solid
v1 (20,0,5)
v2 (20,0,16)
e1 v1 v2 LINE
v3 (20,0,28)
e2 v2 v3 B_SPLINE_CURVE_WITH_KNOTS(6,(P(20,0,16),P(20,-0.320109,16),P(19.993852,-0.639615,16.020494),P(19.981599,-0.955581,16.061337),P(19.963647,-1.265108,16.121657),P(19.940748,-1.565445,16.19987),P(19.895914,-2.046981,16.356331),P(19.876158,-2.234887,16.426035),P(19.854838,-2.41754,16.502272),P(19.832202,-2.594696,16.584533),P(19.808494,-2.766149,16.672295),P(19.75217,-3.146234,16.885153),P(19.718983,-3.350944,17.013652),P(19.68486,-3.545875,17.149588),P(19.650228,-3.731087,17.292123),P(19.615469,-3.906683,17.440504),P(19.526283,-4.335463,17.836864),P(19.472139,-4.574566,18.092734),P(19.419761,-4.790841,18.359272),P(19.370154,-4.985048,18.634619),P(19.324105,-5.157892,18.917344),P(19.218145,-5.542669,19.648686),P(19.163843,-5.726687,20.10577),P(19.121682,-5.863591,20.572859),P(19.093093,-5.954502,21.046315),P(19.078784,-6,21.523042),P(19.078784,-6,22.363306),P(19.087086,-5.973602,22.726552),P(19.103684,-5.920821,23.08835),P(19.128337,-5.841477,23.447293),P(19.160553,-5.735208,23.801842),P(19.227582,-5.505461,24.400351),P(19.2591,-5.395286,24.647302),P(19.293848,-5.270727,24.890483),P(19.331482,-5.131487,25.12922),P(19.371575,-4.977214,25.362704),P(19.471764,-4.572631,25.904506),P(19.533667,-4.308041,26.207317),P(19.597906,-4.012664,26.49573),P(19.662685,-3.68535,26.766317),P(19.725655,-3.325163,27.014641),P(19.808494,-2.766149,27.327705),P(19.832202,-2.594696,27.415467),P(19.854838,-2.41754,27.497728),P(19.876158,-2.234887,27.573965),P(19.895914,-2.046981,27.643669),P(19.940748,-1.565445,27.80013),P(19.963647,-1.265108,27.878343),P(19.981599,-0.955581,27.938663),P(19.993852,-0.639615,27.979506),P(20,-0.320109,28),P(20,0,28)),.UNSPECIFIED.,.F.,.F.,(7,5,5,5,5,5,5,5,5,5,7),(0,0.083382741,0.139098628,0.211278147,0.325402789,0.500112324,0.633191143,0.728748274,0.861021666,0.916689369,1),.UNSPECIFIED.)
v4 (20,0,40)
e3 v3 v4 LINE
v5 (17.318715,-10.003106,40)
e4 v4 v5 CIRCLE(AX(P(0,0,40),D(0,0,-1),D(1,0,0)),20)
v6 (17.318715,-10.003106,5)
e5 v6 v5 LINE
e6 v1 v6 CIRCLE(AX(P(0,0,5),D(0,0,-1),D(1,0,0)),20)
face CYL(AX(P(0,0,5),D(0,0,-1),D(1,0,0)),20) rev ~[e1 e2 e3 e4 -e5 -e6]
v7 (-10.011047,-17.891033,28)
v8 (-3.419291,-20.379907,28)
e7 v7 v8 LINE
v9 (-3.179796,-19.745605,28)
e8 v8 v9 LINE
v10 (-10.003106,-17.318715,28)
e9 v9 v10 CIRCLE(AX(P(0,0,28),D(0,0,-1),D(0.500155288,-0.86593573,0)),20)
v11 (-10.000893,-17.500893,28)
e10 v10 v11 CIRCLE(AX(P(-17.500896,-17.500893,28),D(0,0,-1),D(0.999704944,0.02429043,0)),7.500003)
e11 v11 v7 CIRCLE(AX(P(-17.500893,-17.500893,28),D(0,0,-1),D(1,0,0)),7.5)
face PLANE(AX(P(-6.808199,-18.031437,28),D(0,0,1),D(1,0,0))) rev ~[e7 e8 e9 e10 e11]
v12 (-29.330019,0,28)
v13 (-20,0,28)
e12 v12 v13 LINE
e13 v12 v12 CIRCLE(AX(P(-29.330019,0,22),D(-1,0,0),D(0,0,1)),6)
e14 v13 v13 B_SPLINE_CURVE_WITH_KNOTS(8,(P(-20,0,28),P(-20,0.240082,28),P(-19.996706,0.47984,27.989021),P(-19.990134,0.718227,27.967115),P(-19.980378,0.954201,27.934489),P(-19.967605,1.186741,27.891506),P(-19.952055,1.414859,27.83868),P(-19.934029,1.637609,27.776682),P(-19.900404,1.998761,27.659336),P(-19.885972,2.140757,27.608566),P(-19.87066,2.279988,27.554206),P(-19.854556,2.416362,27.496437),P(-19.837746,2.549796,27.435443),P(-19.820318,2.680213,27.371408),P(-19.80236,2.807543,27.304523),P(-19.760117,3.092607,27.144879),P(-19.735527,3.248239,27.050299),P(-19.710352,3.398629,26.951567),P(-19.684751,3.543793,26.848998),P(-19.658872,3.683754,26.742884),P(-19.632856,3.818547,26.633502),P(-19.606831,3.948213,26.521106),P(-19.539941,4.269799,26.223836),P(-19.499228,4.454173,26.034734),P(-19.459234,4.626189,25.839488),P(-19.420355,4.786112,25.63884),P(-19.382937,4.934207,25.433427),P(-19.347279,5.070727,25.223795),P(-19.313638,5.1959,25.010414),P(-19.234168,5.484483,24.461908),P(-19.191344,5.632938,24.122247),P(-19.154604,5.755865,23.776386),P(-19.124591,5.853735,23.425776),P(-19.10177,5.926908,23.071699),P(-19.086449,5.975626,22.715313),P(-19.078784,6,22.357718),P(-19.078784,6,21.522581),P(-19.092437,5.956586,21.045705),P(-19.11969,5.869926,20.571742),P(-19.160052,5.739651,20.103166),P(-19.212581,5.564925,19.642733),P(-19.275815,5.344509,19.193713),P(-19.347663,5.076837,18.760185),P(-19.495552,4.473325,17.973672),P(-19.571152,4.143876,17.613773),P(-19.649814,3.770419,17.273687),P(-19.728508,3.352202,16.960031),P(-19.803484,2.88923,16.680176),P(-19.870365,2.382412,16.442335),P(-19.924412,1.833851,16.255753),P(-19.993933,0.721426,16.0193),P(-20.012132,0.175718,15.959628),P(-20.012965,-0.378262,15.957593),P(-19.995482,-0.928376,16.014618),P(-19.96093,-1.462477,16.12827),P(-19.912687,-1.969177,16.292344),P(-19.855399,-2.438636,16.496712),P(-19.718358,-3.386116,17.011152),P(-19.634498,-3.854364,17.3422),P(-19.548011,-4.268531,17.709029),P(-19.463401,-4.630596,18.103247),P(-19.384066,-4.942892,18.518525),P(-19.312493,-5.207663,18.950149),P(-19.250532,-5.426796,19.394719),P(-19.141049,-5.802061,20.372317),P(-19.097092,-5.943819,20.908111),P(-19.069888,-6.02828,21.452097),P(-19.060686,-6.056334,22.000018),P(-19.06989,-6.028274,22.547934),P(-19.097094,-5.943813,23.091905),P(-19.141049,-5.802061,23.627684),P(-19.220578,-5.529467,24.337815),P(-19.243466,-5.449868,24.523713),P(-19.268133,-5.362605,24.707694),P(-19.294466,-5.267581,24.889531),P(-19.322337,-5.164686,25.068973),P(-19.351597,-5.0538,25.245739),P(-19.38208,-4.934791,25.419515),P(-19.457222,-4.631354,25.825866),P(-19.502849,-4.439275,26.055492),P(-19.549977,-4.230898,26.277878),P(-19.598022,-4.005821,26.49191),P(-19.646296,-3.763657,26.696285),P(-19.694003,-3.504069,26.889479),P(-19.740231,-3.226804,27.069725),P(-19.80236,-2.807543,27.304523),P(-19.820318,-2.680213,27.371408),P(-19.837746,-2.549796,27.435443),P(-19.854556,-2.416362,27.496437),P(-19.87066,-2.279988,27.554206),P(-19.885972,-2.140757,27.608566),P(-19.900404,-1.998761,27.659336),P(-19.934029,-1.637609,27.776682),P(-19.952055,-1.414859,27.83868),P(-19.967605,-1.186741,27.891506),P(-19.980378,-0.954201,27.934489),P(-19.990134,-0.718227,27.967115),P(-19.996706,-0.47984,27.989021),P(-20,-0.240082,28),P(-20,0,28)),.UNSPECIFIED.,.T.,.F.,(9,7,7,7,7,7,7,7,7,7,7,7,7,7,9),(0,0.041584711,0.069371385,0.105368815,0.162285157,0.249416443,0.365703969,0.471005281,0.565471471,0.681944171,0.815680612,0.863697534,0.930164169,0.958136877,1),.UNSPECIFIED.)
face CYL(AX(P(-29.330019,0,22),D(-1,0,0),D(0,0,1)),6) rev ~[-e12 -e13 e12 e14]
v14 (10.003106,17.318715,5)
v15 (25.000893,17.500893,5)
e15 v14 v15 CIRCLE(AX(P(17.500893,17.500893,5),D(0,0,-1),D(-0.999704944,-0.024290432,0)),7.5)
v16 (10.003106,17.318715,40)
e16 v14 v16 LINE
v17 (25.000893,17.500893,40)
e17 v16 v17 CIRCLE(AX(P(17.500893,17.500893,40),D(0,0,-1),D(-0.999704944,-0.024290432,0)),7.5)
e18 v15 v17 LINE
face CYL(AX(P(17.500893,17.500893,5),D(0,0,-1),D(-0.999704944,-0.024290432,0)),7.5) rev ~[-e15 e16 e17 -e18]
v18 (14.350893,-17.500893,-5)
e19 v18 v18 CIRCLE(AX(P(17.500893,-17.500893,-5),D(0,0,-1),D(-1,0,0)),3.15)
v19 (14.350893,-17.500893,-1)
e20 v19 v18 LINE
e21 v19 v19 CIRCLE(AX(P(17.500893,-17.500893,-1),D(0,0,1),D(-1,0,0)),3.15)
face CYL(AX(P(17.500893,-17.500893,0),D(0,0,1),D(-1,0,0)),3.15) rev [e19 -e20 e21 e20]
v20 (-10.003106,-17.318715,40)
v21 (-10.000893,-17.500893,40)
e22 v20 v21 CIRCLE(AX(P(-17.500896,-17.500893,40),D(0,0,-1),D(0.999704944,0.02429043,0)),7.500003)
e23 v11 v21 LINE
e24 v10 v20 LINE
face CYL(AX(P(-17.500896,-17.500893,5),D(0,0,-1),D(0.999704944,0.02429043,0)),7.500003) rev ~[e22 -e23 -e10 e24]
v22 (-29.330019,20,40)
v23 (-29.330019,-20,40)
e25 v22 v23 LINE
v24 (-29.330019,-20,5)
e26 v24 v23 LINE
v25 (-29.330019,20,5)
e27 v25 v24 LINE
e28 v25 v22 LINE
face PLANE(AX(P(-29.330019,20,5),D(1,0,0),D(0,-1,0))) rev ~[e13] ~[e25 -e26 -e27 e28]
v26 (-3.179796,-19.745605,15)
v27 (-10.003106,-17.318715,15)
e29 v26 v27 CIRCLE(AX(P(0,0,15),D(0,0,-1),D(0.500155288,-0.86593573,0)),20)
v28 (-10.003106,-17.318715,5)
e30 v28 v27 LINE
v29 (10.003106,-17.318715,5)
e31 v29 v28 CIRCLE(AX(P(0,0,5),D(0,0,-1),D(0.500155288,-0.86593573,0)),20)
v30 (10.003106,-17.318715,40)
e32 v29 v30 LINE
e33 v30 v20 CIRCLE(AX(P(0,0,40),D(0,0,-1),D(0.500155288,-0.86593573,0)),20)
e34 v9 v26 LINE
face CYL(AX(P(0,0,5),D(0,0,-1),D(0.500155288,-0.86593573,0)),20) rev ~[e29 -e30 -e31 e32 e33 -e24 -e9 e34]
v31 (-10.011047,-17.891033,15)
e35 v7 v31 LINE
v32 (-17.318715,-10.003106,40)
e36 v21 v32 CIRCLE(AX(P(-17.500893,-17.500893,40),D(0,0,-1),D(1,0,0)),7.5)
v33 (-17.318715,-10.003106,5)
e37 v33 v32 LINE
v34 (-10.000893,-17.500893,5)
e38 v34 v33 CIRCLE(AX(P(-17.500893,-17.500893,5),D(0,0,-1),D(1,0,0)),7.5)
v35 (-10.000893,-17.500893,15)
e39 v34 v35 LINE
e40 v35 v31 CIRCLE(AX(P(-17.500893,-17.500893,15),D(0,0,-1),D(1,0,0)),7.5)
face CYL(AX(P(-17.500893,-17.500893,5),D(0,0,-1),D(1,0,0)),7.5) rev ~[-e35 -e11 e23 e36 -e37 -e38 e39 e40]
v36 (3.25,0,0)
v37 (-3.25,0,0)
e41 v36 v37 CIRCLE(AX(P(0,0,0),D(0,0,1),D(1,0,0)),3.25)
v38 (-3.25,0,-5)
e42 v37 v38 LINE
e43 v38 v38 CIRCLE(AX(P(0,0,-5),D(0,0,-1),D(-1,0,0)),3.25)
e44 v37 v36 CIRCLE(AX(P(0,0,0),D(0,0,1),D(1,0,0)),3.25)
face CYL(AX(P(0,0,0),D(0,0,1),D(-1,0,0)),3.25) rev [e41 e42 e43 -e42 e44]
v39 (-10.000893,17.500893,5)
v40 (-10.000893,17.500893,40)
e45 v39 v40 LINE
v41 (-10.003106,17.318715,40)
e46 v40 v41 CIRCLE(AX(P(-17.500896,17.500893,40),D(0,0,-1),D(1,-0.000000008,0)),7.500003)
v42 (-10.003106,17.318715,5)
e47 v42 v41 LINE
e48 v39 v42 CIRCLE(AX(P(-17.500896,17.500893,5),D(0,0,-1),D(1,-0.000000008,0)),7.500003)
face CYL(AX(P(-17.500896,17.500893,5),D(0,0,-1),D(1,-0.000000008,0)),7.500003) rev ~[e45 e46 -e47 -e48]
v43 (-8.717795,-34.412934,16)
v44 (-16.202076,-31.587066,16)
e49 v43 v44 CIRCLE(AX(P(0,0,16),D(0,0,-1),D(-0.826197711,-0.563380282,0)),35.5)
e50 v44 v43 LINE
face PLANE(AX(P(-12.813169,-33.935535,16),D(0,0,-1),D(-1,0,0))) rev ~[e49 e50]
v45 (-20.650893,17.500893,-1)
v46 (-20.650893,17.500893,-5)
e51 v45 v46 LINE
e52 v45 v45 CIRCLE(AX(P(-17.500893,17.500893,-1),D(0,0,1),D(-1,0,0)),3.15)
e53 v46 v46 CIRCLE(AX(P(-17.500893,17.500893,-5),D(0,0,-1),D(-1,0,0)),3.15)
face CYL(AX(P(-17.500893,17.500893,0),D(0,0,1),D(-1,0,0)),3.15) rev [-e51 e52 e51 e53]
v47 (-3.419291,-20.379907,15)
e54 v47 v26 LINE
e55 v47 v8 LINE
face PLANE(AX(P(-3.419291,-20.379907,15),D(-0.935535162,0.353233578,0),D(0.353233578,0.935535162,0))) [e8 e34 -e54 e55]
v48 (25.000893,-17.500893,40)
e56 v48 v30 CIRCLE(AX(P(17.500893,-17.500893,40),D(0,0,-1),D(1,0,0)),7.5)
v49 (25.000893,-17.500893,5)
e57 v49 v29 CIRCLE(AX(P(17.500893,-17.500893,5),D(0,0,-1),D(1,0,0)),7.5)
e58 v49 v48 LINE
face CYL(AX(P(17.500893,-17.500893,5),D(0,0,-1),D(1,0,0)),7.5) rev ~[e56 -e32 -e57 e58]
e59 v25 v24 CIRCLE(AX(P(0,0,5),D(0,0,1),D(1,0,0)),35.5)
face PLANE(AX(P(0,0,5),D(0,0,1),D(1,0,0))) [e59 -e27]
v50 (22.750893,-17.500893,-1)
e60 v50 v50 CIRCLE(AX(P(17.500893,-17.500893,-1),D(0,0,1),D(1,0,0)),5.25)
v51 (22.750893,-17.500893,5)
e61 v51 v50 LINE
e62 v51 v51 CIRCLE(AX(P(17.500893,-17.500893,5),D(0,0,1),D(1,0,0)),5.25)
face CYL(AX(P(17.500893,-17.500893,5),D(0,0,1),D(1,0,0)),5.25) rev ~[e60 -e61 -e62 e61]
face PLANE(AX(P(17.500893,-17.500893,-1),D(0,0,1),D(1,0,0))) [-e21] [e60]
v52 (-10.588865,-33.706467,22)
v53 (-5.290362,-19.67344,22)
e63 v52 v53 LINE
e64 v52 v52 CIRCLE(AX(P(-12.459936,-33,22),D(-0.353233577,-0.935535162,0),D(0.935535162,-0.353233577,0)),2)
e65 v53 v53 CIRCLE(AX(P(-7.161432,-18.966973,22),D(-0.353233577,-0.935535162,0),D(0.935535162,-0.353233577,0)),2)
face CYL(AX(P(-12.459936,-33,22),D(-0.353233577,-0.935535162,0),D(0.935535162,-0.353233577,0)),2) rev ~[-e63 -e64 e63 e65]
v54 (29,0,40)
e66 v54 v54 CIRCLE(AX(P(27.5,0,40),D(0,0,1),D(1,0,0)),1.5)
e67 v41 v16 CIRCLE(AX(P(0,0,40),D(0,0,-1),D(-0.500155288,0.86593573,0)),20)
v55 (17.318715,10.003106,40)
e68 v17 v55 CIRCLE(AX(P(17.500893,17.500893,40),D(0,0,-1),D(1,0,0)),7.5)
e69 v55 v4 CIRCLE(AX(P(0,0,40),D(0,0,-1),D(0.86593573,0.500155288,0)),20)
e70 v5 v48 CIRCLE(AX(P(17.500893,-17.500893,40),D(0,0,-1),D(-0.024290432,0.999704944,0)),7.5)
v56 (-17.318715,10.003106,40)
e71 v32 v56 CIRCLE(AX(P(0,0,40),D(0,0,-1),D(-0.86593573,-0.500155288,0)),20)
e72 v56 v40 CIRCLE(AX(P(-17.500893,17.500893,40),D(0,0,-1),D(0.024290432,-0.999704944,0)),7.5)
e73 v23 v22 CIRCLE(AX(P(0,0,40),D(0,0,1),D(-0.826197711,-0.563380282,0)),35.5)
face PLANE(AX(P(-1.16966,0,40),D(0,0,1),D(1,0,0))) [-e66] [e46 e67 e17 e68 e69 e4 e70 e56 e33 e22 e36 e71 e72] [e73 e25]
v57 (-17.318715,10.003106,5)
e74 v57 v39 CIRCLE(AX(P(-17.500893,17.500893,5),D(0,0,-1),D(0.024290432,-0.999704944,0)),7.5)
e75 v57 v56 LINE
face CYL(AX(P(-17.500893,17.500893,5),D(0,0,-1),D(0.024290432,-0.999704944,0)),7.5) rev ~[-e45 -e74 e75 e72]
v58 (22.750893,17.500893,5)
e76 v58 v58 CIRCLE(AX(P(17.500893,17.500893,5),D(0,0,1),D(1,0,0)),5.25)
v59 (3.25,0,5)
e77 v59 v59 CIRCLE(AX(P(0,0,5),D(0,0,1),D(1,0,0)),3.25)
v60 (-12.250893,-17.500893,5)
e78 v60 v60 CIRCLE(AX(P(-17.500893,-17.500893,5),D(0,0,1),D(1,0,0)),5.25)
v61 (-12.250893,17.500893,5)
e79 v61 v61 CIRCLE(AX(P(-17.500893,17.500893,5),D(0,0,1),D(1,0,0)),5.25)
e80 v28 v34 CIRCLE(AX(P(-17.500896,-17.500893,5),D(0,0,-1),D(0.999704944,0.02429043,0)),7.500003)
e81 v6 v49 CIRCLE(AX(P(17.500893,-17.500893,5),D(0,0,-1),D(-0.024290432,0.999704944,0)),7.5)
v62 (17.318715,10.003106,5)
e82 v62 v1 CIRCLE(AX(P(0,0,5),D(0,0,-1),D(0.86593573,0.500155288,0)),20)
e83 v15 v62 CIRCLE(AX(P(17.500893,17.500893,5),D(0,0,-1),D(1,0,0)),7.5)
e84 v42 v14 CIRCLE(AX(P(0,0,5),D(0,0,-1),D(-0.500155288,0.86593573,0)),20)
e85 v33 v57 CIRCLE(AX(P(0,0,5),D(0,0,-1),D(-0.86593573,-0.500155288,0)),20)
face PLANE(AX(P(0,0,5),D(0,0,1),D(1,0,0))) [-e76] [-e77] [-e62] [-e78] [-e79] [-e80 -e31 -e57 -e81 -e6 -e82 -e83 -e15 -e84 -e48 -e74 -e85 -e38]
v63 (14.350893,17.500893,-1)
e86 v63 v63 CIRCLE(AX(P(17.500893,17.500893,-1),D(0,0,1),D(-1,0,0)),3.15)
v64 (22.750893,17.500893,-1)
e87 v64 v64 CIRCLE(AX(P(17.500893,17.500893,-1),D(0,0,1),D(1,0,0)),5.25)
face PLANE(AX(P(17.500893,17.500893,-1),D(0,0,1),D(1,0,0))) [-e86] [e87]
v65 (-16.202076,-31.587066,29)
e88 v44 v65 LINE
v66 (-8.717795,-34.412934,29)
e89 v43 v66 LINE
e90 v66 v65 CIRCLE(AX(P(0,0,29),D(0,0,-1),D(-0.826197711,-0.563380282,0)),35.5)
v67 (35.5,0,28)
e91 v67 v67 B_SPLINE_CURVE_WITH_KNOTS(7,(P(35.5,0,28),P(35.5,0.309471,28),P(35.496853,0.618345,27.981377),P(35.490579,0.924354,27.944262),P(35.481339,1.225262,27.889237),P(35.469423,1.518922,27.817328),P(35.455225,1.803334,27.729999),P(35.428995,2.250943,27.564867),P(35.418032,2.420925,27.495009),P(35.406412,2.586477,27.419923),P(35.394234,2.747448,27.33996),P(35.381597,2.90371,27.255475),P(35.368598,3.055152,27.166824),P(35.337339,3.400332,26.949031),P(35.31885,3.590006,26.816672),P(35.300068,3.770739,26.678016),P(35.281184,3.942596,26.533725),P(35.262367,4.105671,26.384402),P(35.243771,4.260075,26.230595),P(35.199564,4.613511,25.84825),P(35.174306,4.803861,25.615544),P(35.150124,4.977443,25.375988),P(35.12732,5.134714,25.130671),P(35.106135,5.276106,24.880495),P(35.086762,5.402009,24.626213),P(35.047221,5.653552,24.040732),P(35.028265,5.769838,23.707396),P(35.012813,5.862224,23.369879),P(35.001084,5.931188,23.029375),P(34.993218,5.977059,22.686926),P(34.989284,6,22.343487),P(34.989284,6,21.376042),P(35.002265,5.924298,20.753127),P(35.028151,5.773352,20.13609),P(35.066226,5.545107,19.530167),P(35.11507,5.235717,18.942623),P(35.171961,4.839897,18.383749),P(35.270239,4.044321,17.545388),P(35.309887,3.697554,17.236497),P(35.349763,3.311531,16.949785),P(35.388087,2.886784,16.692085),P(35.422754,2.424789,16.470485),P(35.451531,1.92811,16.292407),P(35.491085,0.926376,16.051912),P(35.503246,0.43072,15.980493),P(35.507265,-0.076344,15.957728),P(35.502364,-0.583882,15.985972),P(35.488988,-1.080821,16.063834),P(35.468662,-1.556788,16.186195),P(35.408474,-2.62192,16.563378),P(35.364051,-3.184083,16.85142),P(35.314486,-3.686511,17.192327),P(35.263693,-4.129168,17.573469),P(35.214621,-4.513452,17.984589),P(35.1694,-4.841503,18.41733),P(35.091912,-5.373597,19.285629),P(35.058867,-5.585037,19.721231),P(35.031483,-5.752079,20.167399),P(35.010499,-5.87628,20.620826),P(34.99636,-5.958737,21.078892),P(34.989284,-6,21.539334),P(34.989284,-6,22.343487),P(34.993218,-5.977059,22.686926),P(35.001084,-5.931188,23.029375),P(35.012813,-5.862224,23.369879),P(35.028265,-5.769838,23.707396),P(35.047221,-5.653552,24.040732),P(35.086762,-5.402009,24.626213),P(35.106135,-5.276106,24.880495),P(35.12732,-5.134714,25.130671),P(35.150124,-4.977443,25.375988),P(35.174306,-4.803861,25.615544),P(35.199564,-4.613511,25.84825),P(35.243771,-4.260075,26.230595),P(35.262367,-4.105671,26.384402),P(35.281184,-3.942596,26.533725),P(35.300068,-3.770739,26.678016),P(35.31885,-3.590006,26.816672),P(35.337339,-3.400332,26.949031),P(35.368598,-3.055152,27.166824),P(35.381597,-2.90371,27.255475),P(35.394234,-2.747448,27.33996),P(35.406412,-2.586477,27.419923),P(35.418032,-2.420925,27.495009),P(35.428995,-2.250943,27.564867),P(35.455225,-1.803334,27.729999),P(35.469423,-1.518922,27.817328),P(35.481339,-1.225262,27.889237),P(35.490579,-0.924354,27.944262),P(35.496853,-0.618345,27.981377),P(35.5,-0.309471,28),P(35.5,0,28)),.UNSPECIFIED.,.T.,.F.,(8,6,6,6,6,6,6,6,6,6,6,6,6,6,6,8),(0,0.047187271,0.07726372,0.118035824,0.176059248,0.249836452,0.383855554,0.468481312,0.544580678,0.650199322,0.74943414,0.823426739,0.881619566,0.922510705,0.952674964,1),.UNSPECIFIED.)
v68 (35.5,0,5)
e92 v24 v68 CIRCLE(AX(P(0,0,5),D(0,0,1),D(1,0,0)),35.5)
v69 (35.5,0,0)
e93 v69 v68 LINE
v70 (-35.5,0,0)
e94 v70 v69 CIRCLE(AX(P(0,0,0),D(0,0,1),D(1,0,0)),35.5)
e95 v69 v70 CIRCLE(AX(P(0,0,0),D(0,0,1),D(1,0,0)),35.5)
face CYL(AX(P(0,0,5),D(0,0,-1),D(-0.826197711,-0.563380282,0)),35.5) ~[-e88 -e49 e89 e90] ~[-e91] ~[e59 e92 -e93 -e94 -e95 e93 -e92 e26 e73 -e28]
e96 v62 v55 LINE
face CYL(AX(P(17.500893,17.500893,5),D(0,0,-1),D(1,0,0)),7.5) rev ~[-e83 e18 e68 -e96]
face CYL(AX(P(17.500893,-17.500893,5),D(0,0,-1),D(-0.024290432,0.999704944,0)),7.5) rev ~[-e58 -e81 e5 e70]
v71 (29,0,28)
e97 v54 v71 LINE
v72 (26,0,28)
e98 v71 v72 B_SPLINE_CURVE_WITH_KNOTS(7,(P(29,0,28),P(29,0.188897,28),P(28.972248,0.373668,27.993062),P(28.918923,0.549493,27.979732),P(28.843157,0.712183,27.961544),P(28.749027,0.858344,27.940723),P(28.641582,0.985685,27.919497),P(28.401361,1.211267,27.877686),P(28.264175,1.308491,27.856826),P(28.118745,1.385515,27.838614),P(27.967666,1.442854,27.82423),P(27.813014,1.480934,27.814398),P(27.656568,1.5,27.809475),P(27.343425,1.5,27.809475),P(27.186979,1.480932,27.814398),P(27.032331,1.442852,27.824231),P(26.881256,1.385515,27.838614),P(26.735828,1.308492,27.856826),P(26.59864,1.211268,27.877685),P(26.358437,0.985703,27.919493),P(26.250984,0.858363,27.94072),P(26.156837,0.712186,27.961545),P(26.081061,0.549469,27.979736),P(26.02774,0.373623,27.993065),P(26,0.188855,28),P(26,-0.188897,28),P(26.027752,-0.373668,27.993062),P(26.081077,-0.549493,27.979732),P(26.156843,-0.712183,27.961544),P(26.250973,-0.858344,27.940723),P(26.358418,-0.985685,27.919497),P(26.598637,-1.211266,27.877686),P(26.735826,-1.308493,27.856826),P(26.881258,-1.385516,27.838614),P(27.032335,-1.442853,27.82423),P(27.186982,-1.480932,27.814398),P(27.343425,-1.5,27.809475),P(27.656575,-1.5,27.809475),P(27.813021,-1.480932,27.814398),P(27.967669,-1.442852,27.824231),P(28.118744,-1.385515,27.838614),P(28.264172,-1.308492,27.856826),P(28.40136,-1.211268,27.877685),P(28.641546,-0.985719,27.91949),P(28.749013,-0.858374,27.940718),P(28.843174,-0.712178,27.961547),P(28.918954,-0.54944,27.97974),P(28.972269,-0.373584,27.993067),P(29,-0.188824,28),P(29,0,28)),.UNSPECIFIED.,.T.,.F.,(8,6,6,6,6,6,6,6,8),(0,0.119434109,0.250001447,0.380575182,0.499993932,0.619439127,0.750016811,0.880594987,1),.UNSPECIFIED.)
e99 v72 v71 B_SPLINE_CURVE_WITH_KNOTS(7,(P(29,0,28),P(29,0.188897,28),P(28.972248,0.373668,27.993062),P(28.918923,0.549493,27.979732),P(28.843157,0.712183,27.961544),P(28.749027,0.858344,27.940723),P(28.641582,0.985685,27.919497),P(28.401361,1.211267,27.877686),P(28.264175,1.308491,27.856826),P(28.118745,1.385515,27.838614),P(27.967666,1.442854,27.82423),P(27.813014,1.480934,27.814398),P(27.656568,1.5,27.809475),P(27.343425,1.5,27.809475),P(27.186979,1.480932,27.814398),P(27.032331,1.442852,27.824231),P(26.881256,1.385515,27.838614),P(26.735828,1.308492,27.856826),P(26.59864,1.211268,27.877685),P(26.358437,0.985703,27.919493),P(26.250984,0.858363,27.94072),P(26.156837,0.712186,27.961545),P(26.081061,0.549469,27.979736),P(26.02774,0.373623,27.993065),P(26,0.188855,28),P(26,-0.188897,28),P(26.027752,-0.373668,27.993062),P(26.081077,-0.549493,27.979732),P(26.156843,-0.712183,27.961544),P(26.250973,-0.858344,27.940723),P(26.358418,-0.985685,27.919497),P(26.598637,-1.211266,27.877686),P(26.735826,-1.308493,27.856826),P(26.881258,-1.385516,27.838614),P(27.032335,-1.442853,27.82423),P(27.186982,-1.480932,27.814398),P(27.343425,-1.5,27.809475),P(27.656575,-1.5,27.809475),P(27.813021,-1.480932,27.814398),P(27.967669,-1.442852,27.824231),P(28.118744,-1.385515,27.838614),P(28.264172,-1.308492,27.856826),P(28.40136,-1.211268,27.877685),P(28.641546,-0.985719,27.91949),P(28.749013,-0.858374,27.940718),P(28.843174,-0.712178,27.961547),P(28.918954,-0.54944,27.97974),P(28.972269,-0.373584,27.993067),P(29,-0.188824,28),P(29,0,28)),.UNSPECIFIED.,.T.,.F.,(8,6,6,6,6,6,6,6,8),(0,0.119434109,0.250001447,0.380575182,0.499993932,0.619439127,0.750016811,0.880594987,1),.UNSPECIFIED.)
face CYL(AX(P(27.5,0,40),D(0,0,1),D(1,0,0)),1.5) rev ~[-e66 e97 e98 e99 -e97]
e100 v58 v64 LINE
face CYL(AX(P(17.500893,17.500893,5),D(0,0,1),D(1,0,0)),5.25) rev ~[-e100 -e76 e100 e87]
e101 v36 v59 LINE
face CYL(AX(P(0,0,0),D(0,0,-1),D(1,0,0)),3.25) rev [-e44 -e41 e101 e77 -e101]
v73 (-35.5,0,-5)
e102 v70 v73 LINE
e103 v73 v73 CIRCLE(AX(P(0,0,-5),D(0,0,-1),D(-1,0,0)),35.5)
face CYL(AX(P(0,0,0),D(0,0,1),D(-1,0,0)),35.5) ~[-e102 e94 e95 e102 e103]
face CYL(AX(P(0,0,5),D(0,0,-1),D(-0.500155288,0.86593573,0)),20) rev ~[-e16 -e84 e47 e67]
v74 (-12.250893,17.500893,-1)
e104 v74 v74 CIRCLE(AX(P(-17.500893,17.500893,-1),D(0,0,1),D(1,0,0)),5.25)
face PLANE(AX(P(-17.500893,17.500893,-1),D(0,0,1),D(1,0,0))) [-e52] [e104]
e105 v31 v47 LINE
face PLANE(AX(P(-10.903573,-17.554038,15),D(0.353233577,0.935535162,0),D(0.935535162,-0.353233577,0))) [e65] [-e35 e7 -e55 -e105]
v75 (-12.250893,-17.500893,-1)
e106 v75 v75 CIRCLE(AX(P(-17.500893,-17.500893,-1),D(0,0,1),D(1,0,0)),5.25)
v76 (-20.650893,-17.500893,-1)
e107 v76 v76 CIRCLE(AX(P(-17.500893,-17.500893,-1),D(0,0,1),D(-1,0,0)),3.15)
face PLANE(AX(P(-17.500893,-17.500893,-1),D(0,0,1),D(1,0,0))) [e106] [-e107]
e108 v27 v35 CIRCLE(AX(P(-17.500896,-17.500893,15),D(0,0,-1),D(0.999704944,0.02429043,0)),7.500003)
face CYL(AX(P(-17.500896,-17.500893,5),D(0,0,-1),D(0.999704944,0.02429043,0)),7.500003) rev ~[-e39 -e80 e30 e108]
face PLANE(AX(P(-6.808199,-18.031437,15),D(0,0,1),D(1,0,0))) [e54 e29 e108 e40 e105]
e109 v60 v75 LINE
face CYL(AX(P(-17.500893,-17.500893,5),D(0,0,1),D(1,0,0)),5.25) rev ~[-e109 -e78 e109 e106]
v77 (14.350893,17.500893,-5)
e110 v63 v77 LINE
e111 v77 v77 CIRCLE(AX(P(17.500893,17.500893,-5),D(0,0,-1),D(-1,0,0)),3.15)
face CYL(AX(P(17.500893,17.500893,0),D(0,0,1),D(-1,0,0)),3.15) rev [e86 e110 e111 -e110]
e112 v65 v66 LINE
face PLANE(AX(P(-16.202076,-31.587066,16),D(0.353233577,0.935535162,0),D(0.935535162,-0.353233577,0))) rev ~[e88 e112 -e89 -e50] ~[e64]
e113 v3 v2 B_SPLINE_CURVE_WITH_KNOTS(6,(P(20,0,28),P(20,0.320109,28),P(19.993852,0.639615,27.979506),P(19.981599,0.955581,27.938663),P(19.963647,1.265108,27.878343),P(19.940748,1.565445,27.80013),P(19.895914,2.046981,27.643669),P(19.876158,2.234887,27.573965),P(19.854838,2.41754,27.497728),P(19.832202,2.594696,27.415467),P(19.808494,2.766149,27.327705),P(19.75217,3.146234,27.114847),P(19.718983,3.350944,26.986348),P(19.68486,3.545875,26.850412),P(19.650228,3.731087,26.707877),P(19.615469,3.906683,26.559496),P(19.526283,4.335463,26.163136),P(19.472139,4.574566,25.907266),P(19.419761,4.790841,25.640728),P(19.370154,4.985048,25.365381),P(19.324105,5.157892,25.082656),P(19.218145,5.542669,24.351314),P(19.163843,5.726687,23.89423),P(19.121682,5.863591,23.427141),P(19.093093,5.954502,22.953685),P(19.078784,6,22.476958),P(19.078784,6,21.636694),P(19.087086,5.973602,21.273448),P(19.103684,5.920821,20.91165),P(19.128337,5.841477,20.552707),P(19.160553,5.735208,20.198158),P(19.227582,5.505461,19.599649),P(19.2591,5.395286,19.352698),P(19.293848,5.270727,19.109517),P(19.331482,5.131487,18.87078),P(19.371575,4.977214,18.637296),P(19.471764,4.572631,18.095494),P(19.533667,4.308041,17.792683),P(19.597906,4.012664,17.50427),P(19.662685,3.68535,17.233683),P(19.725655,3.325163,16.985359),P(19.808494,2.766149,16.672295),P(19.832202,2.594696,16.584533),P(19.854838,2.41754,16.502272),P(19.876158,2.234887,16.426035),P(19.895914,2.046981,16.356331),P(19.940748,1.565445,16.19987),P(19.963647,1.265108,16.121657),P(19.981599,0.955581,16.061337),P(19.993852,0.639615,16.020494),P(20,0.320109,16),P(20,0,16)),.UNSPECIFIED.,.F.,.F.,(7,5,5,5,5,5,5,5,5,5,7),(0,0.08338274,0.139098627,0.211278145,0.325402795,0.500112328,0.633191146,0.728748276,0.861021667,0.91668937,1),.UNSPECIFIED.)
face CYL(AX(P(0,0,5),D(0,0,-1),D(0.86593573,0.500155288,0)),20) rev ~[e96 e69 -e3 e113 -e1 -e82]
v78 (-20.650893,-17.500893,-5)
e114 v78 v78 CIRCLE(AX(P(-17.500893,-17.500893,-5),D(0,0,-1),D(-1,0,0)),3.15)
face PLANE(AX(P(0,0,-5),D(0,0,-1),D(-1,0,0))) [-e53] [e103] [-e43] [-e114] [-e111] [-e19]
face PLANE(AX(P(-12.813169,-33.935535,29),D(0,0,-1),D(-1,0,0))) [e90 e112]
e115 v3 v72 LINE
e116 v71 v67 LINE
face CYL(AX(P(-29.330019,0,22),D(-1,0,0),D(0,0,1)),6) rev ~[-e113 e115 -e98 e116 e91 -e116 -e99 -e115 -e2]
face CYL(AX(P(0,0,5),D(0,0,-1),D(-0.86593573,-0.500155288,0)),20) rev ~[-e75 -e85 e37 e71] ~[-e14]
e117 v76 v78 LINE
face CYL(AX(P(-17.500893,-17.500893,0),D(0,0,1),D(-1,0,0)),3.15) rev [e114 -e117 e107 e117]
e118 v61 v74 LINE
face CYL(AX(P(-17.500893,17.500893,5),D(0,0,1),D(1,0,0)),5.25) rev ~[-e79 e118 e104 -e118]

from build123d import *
from build123d.topology import SkipClean

# Parameters (mm, degrees)
CROQUIS1_R                   = 35.5
CROQUIS1_R_2                 = 3.25
CROQUIS1_R_3                 = 3.15
SALIENTE_EXTRUIR1_DEPTH      = 5
SALIENTE_EXTRUIR2_DEPTH      = 35
CROQUIS3_R                   = 6
CORTAR_EXTRUIR1_DEPTH        = 85.042735149
CORTAR_EXTRUIR2_REACH        = 66.191
CORTAR_EXTRUIR2_END_RADIUS   = 6
CROQUIS4_R                   = 1.5
CORTAR_EXTRUIR_L_MINA1_START = 11
CORTAR_EXTRUIR_L_MINA1_DEPTH = 13
CORTAR_EXTRUIR3_REACH        = 94.695
CORTAR_EXTRUIR3_END_RADIUS   = 20
CROQUIS6_R                   = 2
CORTAR_EXTRUIR_L_MINA2_START = 10
CORTAR_EXTRUIR_L_MINA2_DEPTH = 13
CROQUIS10_R                  = 35.5
CROQUIS10_R_2                = 3.25
CROQUIS10_R_3                = 3.15
SALIENTE_EXTRUIR4_DEPTH      = 5
CROQUIS8_R                   = 5.25
CORTAR_EXTRUIR4_DEPTH        = 6


with BuildPart() as part:
    # Croquis1 → Saliente-Extruir1 (new body)
    with BuildSketch(Plane.XY):
        Circle(CROQUIS1_R)
        Circle(CROQUIS1_R_2, mode=Mode.SUBTRACT)
        with Locations((17.500892834, 17.500892834)):
            Circle(CROQUIS1_R_3, mode=Mode.SUBTRACT)
        with Locations((17.500892834, -17.500892834)):
            Circle(CROQUIS1_R_3, mode=Mode.SUBTRACT)
        with Locations((-17.500892834, -17.500892834)):
            Circle(CROQUIS1_R_3, mode=Mode.SUBTRACT)
        with Locations((-17.500892834, 17.500892834)):
            Circle(CROQUIS1_R_3, mode=Mode.SUBTRACT)
    extrude(amount=SALIENTE_EXTRUIR1_DEPTH)

    # Croquis2 → Saliente-Extruir2 (add)
    with BuildSketch(Plane.XY.offset(5)):
        with BuildLine():
            ThreePointArc((-29.330018752, -20), (35.5, 0), (-29.330018752, 20))
            Line((-29.330018752, 20), (-29.330018752, -20))
        make_face()
        with BuildLine():
            ThreePointArc((10.003105755, 17.318714596), (17.409796995, 25.000339584), (25.000892834, 17.500892834))
            ThreePointArc((25.000892834, 17.500892834), (22.739388001, 12.133568697), (17.318714596, 10.003105755))
            ThreePointArc((17.318714596, 10.003105755), (19.318052333, 5.178112981), (20, 0))
            ThreePointArc((20, 0), (19.318052333, -5.178112981), (17.318714596, -10.003105755))
            ThreePointArc((17.318714596, -10.003105755), (22.739388001, -12.133568697), (25.000892834, -17.500892834))
            ThreePointArc((25.000892834, -17.500892834), (17.409796995, -25.000339584), (10.003105755, -17.318714596))
            ThreePointArc((10.003105755, -17.318714596), (0, -20), (-10.003105755, -17.318714596))
            ThreePointArc((-10.003105755, -17.318714596), (-10.001446085, -17.409796995), (-10.000892834, -17.500892834))
            ThreePointArc((-10.000892834, -17.500892834), (-22.868216972, -22.739388001), (-17.318714596, -10.003105755))
            ThreePointArc((-17.318714596, -10.003105755), (-20, 0), (-17.318714596, 10.003105755))
            ThreePointArc((-17.318714596, 10.003105755), (-22.868216972, 22.739388001), (-10.000892834, 17.500892834))
            ThreePointArc((-10.000892834, 17.500892834), (-10.001446085, 17.409796995), (-10.003105755, 17.318714596))
            ThreePointArc((-10.003105755, 17.318714596), (0, 20), (10.003105755, 17.318714596))
        make_face(mode=Mode.SUBTRACT)
    extrude(amount=SALIENTE_EXTRUIR2_DEPTH)

    # Croquis3 → Cortar-Extruir1 (cut, through all)
    with SkipClean():  # the faces are left unmerged after this step: merging them gives an invalid solid
        with BuildSketch(Plane.ZY.offset(29.330018752)):
            with Locations((22, 0)):
                Circle(CROQUIS3_R)
        extrude(amount=-CORTAR_EXTRUIR1_DEPTH, mode=Mode.SUBTRACT)

    # Cortar-Extruir2: up to this cylinder (the profile starts outside it)
    with SkipClean():  # the faces are left unmerged after this step: merging them gives an invalid solid
        cortar_extruir2_end = Plane(origin=(27.5, 0, 22), z_dir=(-1, 0, 0)) * Cylinder(CORTAR_EXTRUIR2_END_RADIUS, 145.382, mode=Mode.PRIVATE)
        # Croquis4 → Cortar-Extruir2 (cut, up to the surface)
        with BuildSketch(Plane.XY.offset(40), mode=Mode.PRIVATE) as cortar_extruir2_sk1:
            with Locations((27.5, 0)):
                Circle(CROQUIS4_R)
        cortar_extruir2_tool1 = extrude(cortar_extruir2_sk1.sketch, amount=-CORTAR_EXTRUIR2_REACH, mode=Mode.PRIVATE) - cortar_extruir2_end
        add(cortar_extruir2_tool1.solids().sort_by_distance((27.5, 0, 40))[0], mode=Mode.SUBTRACT)

    # Croquis5 → Cortar-Extruir-Lámina1 (cut)
    with SkipClean():  # the faces are left unmerged after this step: merging them gives an invalid solid
        with BuildSketch(Plane.XY.offset(5).offset(CORTAR_EXTRUIR_L_MINA1_START)):
            Polygon((-16.202076443, -31.58706569), (-8.717795145, -34.41293431), (-9.4242623, -36.284004634), (-16.908543598, -33.458136015), align=None)
        extrude(amount=CORTAR_EXTRUIR_L_MINA1_DEPTH, mode=Mode.SUBTRACT)

    # Cortar-Extruir3: up to this cylinder (the profile starts outside it)
    with SkipClean():  # the faces are left unmerged after this step: merging them gives an invalid solid
        cortar_extruir3_end = Plane(origin=(0, 0, 22), z_dir=(0, 0, -1)) * Cylinder(CORTAR_EXTRUIR3_END_RADIUS, 230.39, mode=Mode.PRIVATE)
        # Croquis6 → Cortar-Extruir3 (cut, up to the surface)
        with BuildSketch(Plane(origin=(-12.459935794, -33, 0), x_dir=(0.935535162237637, -0.3532335774200951, 0), z_dir=(-0.35323357742009515, -0.9355351622376371, 0)), mode=Mode.PRIVATE) as cortar_extruir3_sk1:
            with Locations((0, 22)):
                Circle(CROQUIS6_R)
        cortar_extruir3_tool1 = extrude(cortar_extruir3_sk1.sketch, amount=-CORTAR_EXTRUIR3_REACH, mode=Mode.PRIVATE) - cortar_extruir3_end
        add(cortar_extruir3_tool1.solids().sort_by_distance((-12.459936, -33, 22))[0], mode=Mode.SUBTRACT)

    # Croquis7 → Cortar-Extruir-Lámina2 (cut)
    with SkipClean():  # the faces are left unmerged after this step: merging them gives an invalid solid
        with BuildSketch(Plane.XY.offset(5).offset(CORTAR_EXTRUIR_L_MINA2_START)):
            Polygon((-10.903572782, -17.554038257), (-3.419291484, -20.379906876), (-2.712824329, -18.508836552), (-10.197105627, -15.682967932), align=None)
        extrude(amount=CORTAR_EXTRUIR_L_MINA2_DEPTH, mode=Mode.SUBTRACT)

    # Croquis10 → Saliente-Extruir4 (add)
    with SkipClean():  # the faces are left unmerged after this step: merging them gives an invalid solid
        with BuildSketch(Plane(origin=(0, 0, 0), x_dir=(-1, 0, 0), z_dir=(0, 0, -1))):
            Circle(CROQUIS10_R)
            Circle(CROQUIS10_R_2, mode=Mode.SUBTRACT)
            with Locations((-17.500892834, -17.500892834)):
                Circle(CROQUIS10_R_3, mode=Mode.SUBTRACT)
            with Locations((17.500892834, 17.500892834)):
                Circle(CROQUIS10_R_3, mode=Mode.SUBTRACT)
            with Locations((17.500892834, -17.500892834)):
                Circle(CROQUIS10_R_3, mode=Mode.SUBTRACT)
            with Locations((-17.500892834, 17.500892834)):
                Circle(CROQUIS10_R_3, mode=Mode.SUBTRACT)
        extrude(amount=SALIENTE_EXTRUIR4_DEPTH)

    # Croquis8 → Cortar-Extruir4 (cut)
    with SkipClean():  # the faces are left unmerged after this step: merging them gives an invalid solid
        with BuildSketch(Plane.XY.offset(5)):
            with Locations((-17.500892834, -17.500892834)):
                Circle(CROQUIS8_R)
            with Locations((-17.500892834, 17.500892834)):
                Circle(CROQUIS8_R)
            with Locations((17.500892834, 17.500892834)):
                Circle(CROQUIS8_R)
            with Locations((17.500892834, -17.500892834)):
                Circle(CROQUIS8_R)
        extrude(amount=-CORTAR_EXTRUIR4_DEPTH, mode=Mode.SUBTRACT)


solid = part.part
